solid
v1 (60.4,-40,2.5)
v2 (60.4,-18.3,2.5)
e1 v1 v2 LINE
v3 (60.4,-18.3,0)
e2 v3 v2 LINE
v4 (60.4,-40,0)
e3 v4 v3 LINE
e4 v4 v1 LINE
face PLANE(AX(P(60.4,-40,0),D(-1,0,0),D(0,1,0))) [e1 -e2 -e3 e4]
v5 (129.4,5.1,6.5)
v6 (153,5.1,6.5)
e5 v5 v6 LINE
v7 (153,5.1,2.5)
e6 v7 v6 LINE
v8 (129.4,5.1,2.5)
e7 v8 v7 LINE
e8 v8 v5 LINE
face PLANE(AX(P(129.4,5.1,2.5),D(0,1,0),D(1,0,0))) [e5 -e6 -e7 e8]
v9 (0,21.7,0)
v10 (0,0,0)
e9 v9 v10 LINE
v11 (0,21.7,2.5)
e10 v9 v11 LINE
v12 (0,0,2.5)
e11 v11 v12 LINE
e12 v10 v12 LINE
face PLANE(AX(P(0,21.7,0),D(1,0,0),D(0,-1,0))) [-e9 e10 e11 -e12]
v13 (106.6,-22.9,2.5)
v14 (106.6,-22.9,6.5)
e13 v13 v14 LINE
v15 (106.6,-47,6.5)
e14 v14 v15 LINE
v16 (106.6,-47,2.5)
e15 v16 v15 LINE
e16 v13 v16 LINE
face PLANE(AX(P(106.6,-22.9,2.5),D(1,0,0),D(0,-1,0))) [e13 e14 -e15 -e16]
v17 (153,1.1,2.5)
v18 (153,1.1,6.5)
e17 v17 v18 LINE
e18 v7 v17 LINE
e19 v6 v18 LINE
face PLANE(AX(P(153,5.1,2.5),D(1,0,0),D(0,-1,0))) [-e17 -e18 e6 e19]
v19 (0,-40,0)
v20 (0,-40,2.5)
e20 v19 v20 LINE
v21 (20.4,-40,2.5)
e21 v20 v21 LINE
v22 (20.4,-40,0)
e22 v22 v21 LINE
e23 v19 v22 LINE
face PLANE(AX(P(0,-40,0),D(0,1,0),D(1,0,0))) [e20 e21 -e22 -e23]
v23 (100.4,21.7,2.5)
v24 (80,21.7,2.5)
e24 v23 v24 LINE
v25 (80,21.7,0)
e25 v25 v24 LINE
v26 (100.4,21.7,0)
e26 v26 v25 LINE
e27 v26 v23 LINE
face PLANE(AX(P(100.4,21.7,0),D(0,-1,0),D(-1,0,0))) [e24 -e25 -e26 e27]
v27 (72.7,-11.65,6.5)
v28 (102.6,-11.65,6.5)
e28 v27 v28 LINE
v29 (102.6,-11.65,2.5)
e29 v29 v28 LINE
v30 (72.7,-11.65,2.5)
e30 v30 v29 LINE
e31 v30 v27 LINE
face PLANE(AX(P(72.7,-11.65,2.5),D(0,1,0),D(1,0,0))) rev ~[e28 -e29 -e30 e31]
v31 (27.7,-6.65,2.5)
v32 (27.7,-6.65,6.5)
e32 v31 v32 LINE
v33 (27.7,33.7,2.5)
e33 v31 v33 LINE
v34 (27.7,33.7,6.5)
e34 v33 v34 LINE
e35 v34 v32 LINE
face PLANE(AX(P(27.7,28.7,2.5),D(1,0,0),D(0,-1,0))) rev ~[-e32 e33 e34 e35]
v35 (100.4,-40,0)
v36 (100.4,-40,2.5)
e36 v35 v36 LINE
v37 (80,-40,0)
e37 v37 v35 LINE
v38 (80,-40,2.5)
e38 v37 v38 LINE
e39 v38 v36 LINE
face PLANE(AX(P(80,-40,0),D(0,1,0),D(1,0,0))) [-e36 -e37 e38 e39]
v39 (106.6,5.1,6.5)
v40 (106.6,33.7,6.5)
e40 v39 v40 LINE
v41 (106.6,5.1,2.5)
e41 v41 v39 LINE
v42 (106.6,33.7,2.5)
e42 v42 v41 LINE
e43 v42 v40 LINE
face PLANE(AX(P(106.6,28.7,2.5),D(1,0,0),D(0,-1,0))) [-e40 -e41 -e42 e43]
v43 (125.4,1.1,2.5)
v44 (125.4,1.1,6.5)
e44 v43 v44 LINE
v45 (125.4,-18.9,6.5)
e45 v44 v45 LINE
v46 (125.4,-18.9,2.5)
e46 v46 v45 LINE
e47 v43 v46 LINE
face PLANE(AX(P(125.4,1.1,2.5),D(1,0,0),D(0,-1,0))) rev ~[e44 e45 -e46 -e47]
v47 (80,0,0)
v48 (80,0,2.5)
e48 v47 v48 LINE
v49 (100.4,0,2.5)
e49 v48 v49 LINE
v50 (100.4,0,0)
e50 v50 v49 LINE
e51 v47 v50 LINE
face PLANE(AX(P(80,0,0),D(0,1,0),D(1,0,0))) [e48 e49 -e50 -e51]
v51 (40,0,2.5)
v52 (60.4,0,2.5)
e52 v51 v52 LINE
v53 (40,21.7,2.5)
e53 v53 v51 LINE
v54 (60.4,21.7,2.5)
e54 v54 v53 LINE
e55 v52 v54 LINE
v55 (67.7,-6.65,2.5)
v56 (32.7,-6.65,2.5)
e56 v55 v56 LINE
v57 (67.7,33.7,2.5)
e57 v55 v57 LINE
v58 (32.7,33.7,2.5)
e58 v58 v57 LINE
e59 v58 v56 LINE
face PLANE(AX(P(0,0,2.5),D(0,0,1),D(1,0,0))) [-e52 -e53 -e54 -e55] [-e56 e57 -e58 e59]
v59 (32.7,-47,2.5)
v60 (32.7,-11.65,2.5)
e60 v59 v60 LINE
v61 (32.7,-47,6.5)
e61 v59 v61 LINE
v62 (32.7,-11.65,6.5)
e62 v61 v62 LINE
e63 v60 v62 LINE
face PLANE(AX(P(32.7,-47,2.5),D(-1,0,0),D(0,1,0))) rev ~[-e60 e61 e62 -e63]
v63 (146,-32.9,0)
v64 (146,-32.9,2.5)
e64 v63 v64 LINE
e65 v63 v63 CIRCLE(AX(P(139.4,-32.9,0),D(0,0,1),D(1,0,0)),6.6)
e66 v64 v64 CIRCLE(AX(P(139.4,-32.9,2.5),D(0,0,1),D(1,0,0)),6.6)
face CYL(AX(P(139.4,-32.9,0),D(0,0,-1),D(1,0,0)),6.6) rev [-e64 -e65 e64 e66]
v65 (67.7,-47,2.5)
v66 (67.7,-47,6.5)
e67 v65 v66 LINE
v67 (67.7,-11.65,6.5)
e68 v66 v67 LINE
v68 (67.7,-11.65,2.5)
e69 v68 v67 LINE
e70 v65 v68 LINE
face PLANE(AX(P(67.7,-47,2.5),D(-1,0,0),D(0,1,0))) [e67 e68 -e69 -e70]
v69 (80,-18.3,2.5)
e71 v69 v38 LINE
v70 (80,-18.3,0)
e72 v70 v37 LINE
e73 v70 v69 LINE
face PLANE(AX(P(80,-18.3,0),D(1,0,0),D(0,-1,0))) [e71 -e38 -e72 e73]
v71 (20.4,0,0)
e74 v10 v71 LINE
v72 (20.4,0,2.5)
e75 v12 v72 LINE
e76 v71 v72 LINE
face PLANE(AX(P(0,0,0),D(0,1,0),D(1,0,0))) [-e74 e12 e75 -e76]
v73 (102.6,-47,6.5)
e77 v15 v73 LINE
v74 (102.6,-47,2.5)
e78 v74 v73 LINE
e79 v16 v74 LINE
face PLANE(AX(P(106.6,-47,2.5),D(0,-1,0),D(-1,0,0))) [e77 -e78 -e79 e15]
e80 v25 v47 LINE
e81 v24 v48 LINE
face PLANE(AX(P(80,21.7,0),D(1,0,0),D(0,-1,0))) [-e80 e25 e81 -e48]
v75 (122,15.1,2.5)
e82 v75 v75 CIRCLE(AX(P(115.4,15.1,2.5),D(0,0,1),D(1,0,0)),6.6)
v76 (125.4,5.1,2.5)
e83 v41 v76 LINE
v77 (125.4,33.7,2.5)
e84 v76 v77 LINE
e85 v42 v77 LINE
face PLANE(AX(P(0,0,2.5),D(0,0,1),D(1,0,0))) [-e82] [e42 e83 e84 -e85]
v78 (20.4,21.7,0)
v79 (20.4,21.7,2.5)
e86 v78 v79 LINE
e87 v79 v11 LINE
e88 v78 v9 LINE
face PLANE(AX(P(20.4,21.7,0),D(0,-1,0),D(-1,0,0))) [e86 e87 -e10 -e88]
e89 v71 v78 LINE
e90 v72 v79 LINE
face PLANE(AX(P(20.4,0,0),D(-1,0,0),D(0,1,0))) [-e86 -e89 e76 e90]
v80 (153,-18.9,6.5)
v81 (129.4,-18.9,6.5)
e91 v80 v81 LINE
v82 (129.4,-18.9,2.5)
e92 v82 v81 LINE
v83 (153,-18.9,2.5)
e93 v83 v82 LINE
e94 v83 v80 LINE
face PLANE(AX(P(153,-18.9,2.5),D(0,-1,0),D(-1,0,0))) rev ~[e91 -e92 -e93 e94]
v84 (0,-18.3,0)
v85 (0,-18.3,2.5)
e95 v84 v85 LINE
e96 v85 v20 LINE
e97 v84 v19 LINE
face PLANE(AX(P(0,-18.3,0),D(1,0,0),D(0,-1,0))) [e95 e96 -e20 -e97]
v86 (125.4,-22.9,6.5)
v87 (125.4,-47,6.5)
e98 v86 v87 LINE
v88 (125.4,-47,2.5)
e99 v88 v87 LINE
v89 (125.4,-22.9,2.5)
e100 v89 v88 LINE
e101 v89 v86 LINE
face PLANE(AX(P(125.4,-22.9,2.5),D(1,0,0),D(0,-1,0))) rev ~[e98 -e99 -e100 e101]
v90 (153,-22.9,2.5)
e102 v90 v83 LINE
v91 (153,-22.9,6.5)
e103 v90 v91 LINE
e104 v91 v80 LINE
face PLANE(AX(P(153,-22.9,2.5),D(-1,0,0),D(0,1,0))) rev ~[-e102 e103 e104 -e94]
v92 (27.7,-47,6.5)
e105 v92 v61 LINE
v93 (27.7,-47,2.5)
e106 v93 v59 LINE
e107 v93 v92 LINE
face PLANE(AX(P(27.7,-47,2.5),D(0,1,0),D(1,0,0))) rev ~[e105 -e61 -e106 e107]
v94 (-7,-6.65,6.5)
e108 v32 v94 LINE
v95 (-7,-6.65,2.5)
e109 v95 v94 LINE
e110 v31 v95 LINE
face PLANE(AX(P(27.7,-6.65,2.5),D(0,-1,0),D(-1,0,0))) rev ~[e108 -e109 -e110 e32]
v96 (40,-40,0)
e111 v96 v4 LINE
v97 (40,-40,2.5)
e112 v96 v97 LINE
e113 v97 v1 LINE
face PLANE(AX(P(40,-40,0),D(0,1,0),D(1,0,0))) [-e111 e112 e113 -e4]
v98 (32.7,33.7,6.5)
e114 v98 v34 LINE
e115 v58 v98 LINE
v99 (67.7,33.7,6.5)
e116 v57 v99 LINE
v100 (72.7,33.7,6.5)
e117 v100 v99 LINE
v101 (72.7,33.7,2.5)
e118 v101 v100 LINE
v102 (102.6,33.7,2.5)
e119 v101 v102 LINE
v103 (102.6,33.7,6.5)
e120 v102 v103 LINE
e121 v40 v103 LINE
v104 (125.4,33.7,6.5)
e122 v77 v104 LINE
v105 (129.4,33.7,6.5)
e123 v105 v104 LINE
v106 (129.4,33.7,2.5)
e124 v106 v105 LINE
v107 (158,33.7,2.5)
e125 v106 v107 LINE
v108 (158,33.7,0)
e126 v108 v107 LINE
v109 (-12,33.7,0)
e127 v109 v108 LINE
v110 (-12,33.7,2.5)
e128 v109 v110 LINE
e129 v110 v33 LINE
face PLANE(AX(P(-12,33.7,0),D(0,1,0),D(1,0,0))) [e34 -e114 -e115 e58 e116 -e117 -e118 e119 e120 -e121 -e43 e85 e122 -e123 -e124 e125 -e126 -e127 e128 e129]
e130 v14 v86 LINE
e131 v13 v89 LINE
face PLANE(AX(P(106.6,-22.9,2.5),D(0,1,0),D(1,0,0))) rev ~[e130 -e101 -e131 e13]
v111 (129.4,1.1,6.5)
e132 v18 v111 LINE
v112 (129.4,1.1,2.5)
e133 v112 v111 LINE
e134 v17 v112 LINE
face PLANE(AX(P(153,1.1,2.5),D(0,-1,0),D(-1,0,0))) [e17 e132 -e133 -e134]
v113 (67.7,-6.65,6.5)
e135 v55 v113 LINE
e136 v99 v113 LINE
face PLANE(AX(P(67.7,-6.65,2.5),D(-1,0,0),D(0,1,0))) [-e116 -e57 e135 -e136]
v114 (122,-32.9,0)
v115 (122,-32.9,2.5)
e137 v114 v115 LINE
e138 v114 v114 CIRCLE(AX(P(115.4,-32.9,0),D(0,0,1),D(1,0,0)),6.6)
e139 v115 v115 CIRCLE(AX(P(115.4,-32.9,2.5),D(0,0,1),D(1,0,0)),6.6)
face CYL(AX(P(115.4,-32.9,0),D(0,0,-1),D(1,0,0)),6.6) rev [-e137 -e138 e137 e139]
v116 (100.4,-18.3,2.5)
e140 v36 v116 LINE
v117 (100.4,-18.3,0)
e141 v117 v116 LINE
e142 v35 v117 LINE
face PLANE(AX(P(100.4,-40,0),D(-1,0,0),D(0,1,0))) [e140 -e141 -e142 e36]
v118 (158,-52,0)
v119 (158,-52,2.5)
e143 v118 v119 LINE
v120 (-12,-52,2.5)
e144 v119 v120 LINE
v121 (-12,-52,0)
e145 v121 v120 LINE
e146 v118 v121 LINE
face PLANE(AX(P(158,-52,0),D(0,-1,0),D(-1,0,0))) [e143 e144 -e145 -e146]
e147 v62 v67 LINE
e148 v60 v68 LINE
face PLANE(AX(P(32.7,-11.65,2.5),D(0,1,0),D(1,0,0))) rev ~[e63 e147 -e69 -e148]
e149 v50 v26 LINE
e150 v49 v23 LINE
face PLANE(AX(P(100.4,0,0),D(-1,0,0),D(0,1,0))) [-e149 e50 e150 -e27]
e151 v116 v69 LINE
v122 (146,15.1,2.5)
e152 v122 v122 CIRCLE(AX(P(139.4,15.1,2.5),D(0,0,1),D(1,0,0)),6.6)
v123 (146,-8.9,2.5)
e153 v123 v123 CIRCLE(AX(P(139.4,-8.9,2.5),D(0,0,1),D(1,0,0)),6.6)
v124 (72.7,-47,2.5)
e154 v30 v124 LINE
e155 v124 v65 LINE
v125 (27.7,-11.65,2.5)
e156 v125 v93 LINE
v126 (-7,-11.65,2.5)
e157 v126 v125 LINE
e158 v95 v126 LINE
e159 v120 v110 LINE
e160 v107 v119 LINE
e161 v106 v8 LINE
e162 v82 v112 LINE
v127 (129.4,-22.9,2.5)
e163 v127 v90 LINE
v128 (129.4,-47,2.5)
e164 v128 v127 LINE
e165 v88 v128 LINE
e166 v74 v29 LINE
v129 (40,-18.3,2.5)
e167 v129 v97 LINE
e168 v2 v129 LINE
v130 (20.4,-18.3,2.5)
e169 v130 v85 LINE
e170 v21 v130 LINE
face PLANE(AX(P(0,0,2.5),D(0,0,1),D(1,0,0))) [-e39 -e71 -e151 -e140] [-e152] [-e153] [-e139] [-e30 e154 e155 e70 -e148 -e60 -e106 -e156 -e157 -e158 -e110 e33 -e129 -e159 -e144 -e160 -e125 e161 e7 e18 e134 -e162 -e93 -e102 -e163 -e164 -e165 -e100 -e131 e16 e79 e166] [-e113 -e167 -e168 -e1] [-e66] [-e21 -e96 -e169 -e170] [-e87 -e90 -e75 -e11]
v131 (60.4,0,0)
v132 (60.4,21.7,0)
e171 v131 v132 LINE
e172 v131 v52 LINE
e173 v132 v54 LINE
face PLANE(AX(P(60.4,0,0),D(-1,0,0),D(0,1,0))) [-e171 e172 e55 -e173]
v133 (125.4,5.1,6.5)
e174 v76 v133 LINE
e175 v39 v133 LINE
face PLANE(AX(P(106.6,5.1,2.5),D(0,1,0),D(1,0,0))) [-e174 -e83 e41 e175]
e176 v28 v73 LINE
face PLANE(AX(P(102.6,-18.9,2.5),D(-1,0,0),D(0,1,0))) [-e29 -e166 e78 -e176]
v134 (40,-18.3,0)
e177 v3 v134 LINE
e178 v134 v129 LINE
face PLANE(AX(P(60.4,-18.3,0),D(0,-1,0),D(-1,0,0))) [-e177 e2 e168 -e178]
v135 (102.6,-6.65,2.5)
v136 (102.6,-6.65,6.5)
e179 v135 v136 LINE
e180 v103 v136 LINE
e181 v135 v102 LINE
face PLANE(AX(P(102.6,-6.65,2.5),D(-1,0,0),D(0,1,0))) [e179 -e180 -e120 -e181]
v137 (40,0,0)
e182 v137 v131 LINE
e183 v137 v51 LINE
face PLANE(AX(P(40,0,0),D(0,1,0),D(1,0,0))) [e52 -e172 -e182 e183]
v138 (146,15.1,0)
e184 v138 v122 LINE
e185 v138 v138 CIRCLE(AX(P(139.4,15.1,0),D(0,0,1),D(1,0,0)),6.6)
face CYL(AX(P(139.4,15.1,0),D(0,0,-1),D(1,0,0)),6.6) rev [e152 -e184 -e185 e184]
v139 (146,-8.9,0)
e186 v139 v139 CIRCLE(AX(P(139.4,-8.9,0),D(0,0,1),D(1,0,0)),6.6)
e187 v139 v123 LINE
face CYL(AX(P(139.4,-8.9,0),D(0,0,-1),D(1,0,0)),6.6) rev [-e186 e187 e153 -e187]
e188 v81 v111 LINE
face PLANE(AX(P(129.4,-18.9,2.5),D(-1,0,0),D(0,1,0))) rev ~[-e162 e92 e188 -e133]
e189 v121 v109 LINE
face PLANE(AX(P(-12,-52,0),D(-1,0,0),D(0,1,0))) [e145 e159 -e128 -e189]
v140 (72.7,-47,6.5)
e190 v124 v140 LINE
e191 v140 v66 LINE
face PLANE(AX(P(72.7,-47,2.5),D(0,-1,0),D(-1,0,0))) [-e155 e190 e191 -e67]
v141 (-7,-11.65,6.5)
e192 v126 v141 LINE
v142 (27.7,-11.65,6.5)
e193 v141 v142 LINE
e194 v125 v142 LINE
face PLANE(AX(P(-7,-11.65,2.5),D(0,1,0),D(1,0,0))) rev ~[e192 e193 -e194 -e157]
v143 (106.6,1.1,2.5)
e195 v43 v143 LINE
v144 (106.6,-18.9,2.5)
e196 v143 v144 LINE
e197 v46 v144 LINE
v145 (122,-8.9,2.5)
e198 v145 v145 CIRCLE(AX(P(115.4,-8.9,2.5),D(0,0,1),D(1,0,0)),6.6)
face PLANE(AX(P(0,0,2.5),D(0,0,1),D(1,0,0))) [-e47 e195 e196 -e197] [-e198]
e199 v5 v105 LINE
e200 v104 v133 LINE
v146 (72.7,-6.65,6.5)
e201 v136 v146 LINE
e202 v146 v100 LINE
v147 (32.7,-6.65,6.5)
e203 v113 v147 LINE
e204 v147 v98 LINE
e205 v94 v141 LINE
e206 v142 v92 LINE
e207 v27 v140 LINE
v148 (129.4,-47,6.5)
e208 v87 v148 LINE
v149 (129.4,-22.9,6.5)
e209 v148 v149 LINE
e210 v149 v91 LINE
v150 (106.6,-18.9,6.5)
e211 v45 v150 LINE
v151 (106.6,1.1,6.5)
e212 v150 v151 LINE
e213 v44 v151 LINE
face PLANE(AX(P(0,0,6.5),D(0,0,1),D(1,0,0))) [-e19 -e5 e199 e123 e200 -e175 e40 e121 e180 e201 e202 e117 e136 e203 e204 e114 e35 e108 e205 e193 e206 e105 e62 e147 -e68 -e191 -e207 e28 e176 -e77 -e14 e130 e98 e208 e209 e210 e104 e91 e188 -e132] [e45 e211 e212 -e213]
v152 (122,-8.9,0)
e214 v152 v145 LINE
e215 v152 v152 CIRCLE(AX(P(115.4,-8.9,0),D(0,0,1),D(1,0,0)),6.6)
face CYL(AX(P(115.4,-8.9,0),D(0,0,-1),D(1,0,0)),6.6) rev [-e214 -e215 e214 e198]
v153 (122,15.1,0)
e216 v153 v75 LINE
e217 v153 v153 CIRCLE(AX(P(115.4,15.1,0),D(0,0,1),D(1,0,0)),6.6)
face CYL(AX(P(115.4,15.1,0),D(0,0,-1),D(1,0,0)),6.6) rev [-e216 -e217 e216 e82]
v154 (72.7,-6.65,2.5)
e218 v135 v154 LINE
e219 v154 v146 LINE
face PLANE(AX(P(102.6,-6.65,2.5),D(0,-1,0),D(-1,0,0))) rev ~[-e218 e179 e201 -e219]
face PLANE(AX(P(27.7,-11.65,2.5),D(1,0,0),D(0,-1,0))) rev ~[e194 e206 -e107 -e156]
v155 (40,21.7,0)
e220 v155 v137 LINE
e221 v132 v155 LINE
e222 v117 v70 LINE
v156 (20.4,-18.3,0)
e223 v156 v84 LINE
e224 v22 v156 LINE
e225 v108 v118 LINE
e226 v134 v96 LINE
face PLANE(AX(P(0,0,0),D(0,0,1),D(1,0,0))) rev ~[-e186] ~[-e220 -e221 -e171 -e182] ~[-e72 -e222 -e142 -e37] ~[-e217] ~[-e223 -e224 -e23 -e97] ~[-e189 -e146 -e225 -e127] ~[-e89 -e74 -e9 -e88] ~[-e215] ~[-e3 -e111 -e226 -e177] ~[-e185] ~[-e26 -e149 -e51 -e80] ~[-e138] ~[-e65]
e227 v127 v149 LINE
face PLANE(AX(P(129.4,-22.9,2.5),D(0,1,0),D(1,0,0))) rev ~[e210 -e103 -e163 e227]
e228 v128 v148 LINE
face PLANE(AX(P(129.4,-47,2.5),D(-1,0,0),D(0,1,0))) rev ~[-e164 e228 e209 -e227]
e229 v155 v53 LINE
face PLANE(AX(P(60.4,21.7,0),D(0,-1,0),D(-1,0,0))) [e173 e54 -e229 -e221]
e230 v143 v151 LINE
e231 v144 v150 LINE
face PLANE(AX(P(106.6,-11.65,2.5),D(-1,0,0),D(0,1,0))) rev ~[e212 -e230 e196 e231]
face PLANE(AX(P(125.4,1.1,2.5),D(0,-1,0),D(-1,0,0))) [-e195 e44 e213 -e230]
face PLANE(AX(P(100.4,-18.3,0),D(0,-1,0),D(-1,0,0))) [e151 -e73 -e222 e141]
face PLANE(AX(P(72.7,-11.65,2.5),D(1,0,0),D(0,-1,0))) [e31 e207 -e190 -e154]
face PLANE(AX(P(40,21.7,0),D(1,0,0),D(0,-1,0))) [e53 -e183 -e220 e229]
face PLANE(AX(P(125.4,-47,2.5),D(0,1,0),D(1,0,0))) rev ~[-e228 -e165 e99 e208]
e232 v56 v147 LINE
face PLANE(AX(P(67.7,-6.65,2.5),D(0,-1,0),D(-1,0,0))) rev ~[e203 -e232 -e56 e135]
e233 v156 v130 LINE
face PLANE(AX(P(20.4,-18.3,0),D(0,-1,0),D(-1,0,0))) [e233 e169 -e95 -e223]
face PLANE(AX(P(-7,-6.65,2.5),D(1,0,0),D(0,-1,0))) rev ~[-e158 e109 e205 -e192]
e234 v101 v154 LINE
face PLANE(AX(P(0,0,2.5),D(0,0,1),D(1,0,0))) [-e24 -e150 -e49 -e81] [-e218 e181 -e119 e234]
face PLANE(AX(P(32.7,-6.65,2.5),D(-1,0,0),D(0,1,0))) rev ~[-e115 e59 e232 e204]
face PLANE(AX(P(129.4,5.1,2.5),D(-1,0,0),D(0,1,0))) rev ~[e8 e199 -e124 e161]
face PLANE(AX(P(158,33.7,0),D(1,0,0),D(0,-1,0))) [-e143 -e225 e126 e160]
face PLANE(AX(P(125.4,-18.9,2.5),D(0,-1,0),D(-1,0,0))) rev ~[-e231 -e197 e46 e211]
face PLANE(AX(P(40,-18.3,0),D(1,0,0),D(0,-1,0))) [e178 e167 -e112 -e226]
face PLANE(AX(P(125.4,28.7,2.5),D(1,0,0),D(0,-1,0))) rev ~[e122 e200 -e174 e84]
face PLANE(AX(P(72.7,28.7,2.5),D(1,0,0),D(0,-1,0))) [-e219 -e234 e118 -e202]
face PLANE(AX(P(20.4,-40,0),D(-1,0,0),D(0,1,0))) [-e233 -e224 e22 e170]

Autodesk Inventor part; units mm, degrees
ref_plane "YZ Plane" through (0, 0, 0) normal (1, 0, 0) x (0, 1, 0)
ref_plane "XZ Plane" through (0, 0, 0) normal (0, 1, 0) x (-1, 0, 0)
ref_plane "XY Plane" through (0, 0, 0) normal (0, 0, 1) x (1, 0, 0)
sketch "Sketch1" plane through (0, 0, 0) normal (0, 0, 1) x (1, 0, 0)
  point P0 (0, 0)
sketch "Sketch2" plane through (0, 0, 0) normal (0, 0, 1) x (1, 0, 0)
  line L0 (0, 0) -> (20.4, 0)
  line L1 (20.4, 0) -> (20.4, 21.7)
  line L2 (20.4, 21.7) -> (0, 21.7)
  line L3 (0, 21.7) -> (0, 0)
  line L4 (40, 0) -> (60.4, 0)
  line L5 (60.4, 0) -> (60.4, 21.7)
  line L6 (60.4, 21.7) -> (40, 21.7)
  line L7 (40, 21.7) -> (40, 0)
  line L8 (80, 0) -> (100.4, 0)
  line L9 (100.4, 0) -> (100.4, 21.7)
  line L10 (100.4, 21.7) -> (80, 21.7)
  line L11 (80, 21.7) -> (80, 0)
  line L12 (0, -40) -> (20.4, -40)
  line L13 (20.4, -40) -> (20.4, -18.3)
  line L14 (20.4, -18.3) -> (0, -18.3)
  line L15 (0, -18.3) -> (0, -40)
  line L16 (40, -40) -> (60.4, -40)
  line L17 (60.4, -40) -> (60.4, -18.3)
  line L18 (60.4, -18.3) -> (40, -18.3)
  line L19 (40, -18.3) -> (40, -40)
  line L20 (80, -40) -> (100.4, -40)
  line L21 (100.4, -40) -> (100.4, -18.3)
  line L22 (100.4, -18.3) -> (80, -18.3)
  line L23 (80, -18.3) -> (80, -40)
  line L24 (100.4, 21.7) -> (175.4, 21.7) construction
  line L25 (175.4, 21.7) -> (175.4, -53.3) construction
  line L26 (175.4, -53.3) -> (100.4, -53.3) construction
  line L27 (100.4, -53.3) -> (100.4, 21.7) construction
  circle A0 centre (115.4, 15.1) radius 6.6 construction
  line L28 (115.4, 15.1) -> (115.4, -53.3) construction
  circle A1 centre (115.4, -8.9) radius 6.6 construction
  circle A2 centre (115.4, -32.9) radius 6.6 construction
  line L29 (100.4, 15.1) -> (200.3961, 15.1) construction
  circle A3 centre (139.4, 15.1) radius 6.6 construction
  circle A4 centre (139.4, -8.9) radius 6.6 construction
  circle A5 centre (139.4, -32.9) radius 6.6 construction
  circle A6 centre (115.4, 15.1) radius 6.6
  circle A7 centre (139.4, 15.1) radius 6.6 construction
  circle A8 centre (139.4, 15.1) radius 6.6
  circle A9 centre (115.4, -8.9) radius 6.6 construction
  circle A10 centre (115.4, -8.9) radius 6.6
  circle A11 centre (139.4, -8.9) radius 6.6 construction
  circle A12 centre (139.4, -8.9) radius 6.6
  circle A13 centre (115.4, -32.9) radius 6.6 construction
  circle A14 centre (115.4, -32.9) radius 6.6
  circle A15 centre (139.4, -32.9) radius 6.6 construction
  circle A16 centre (139.4, -32.9) radius 6.6
  line L30 (0, 21.7) -> (-12, 21.7) construction
  line L31 (-12, 21.7) -> (-12, 33.7) construction
  line L32 (-12, 33.7) -> (0, 33.7) construction
  line L33 (0, 33.7) -> (0, 21.7) construction
  line L34 (146, -40) -> (158, -40) construction
  line L35 (158, -40) -> (158, -52) construction
  line L36 (158, -52) -> (146, -52) construction
  line L37 (146, -52) -> (146, -40) construction
  line L38 (139.4, -32.9) -> (139.4, -74.4589) construction
  line L39 (-12, 33.7) -> (158, 33.7)
  line L40 (158, 33.7) -> (158, -52)
  line L41 (158, -52) -> (-12, -52)
  line L42 (-12, -52) -> (-12, 33.7)
  point P0 (146, -46)
  dimension "d0" = 20.4
  dimension "d1" = 21.7
  dimension "d5" = 40
  dimension "d8" = 40
  dimension "d11" = 75
  dimension "d12" = 75
  dimension "d13" = 13.2
  dimension "d14" = 15
  dimension "d15" = 13.2
  dimension "d16" = 24
  dimension "d17" = 13.2
  dimension "d18" = 24
  dimension "d19" = 61.7
  dimension "d20" = 13.2
  dimension "d21" = 24
  dimension "d22" = 13.2
  dimension "d23" = 13.2
  dimension "d26" = 24
  dimension "d29" = 24
  dimension "d32" = 12
  dimension "d33" = 12
  dimension "d34" = 12
  dimension "d35" = 12
  dimension "d36" = 6.6
extrude "Extrusion1" add sketch "Sketch2" along normal blind 2.5
sketch "Sketch3" plane through (0, 0, 2.5) normal (0, 0, 1) x (1, 0, 0)
  line L0 (-12, -52) -> (158, -52) construction
  line L1 (158, -52) -> (158, 33.7) construction
  line L2 (158, 33.7) -> (-12, 33.7) construction
  line L3 (-12, 33.7) -> (-12, -52) construction
  circle A0 centre (115.4, 15.1) radius 6.6 construction
  circle A1 centre (139.4, 15.1) radius 6.6 construction
  circle A2 centre (115.4, -8.9) radius 6.6 construction
  circle A3 centre (139.4, -8.9) radius 6.6 construction
  circle A4 centre (115.4, -32.9) radius 6.6 construction
  circle A5 centre (139.4, -32.9) radius 6.6 construction
  line L4 (80, -40) -> (80, -18.3) construction
  line L5 (80, -18.3) -> (100.4, -18.3) construction
  line L6 (100.4, -18.3) -> (100.4, -40) construction
  line L7 (100.4, -40) -> (80, -40) construction
  line L8 (40, -40) -> (40, -18.3) construction
  line L9 (40, -18.3) -> (60.4, -18.3) construction
  line L10 (60.4, -18.3) -> (60.4, -40) construction
  line L11 (60.4, -40) -> (40, -40) construction
  line L12 (0, -40) -> (0, -18.3) construction
  line L13 (0, -18.3) -> (20.4, -18.3) construction
  line L14 (20.4, -18.3) -> (20.4, -40) construction
  line L15 (20.4, -40) -> (0, -40) construction
  line L16 (80, 0) -> (80, 21.7) construction
  line L17 (80, 21.7) -> (100.4, 21.7) construction
  line L18 (100.4, 21.7) -> (100.4, 0) construction
  line L19 (100.4, 0) -> (80, 0) construction
  line L20 (40, 0) -> (40, 21.7) construction
  line L21 (40, 21.7) -> (60.4, 21.7) construction
  line L22 (60.4, 21.7) -> (60.4, 0) construction
  line L23 (60.4, 0) -> (40, 0) construction
  line L24 (0, 0) -> (0, 21.7) construction
  line L25 (0, 21.7) -> (20.4, 21.7) construction
  line L26 (20.4, 21.7) -> (20.4, 0) construction
  line L27 (20.4, 0) -> (0, 0) construction
  line L28 (-7, 28.7) -> (153, 28.7) construction
  line L29 (153, 28.7) -> (153, -47) construction
  line L30 (153, -47) -> (-7, -47) construction
  line L31 (-7, -47) -> (-7, 28.7) construction
  line L32 (-7, -9.15) -> (-7, -6.65) construction
  line L33 (-7, -6.65) -> (-7, -11.65) construction
  line L34 (20.4, 21.7) -> (40, 21.7) construction
  line L35 (30.2, 21.7) -> (30.2, 28.7) construction
  line L36 (60.4, 21.7) -> (80, 21.7) construction
  line L37 (70.2, 21.7) -> (70.2, 28.7) construction
  line L38 (30.2, 28.7) -> (32.7, 28.7) construction
  line L39 (70.2, 28.7) -> (72.7, 28.7) construction
  line L40 (32.7, 28.7) -> (27.7, 28.7) construction
  line L41 (27.7, 28.7) -> (27.7, -47) construction
  line L42 (27.7, -47) -> (32.7, -47) construction
  line L43 (32.7, -47) -> (32.7, 28.7) construction
  line L44 (72.7, 28.7) -> (67.7, 28.7) construction
  line L45 (67.7, 28.7) -> (67.7, -47) construction
  line L46 (67.7, -47) -> (72.7, -47) construction
  line L47 (72.7, -47) -> (72.7, 28.7) construction
  circle A6 centre (115.4, 15.1) radius 6.6 construction
  line L48 (108.8, 15.1) -> (100.4, 15.1) construction
  line L49 (104.6, 15.1) -> (104.6, 28.7) construction
  line L50 (104.6, 28.7) -> (106.6, 28.7) construction
  line L51 (106.6, 28.7) -> (102.6, 28.7) construction
  line L52 (102.6, 28.7) -> (102.6, -47) construction
  line L53 (102.6, -47) -> (106.6, -47) construction
  line L54 (106.6, -47) -> (106.6, 28.7) construction
  line L55 (-7, -6.65) -> (-7, -11.65) construction
  line L56 (-7, -11.65) -> (106.6, -11.65) construction
  line L57 (106.6, -11.65) -> (106.6, -6.65) construction
  line L58 (106.6, -6.65) -> (-7, -6.65) construction
  line L59 (115.4, -2.3) -> (115.4, 8.5) construction
  line L60 (122, 15.1) -> (132.8, 15.1) construction
  line L61 (115.4, -26.3) -> (115.4, -15.5) construction
  line L62 (106.6, 3.1) -> (106.6, 1.1) construction
  line L63 (106.6, 1.1) -> (106.6, 5.1) construction
  line L64 (106.6, 5.1) -> (153, 5.1) construction
  line L65 (153, 5.1) -> (153, 1.1) construction
  line L66 (153, 1.1) -> (106.6, 1.1) construction
  line L67 (106.6, -20.9) -> (106.6, -22.9) construction
  line L68 (106.6, -22.9) -> (106.6, -18.9) construction
  line L69 (106.6, -18.9) -> (153, -18.9) construction
  line L70 (153, -18.9) -> (153, -22.9) construction
  line L71 (153, -22.9) -> (106.6, -22.9) construction
  line L72 (127.4, 28.7) -> (129.4, 28.7) construction
  line L73 (129.4, 28.7) -> (125.4, 28.7) construction
  line L74 (125.4, 28.7) -> (125.4, -47) construction
  line L75 (125.4, -47) -> (129.4, -47) construction
  line L76 (129.4, -47) -> (129.4, 28.7) construction
  line L77 (-7, -11.65) -> (106.6, -11.65)
  line L78 (106.6, -11.65) -> (106.6, -6.65)
  line L79 (106.6, -6.65) -> (-7, -6.65)
  line L80 (-7, -6.65) -> (-7, -11.65)
  line L81 (102.6, 28.7) -> (106.6, 28.7)
  line L82 (106.6, 28.7) -> (106.6, -47)
  line L83 (106.6, -47) -> (102.6, -47)
  line L84 (102.6, -47) -> (102.6, 28.7)
  line L85 (125.4, -47) -> (129.4, -47)
  line L86 (129.4, -47) -> (129.4, 28.7)
  line L87 (129.4, 28.7) -> (125.4, 28.7)
  line L88 (125.4, 28.7) -> (125.4, -47)
  line L89 (102.6, 5.1) -> (153, 5.1)
  line L90 (153, 5.1) -> (153, 1.1)
  line L91 (153, 1.1) -> (102.6, 1.1)
  line L92 (102.6, 1.1) -> (102.6, 5.1)
  line L93 (153, -18.9) -> (102.6, -18.9)
  line L94 (102.6, -18.9) -> (102.6, -22.9)
  line L95 (102.6, -22.9) -> (153, -22.9)
  line L96 (153, -22.9) -> (153, -18.9)
  line L97 (67.7, 28.7) -> (72.7, 28.7)
  line L98 (72.7, 28.7) -> (72.7, -47)
  line L99 (72.7, -47) -> (67.7, -47)
  line L100 (67.7, -47) -> (67.7, 28.7)
  line L101 (32.7, 28.7) -> (27.7, 28.7)
  line L102 (27.7, 28.7) -> (27.7, -47)
  line L103 (27.7, -47) -> (32.7, -47)
  line L104 (32.7, -47) -> (32.7, 28.7)
  line L105 (27.7, 28.7) -> (32.7, 28.7)
  line L106 (32.7, 28.7) -> (32.7, 33.7)
  line L107 (32.7, 33.7) -> (27.7, 33.7)
  line L108 (27.7, 33.7) -> (27.7, 28.7)
  line L109 (158, 33.7) -> (-12, 33.7) projected
  line L110 (67.7, 28.7) -> (72.7, 28.7)
  line L111 (72.7, 28.7) -> (72.7, 33.7)
  line L112 (72.7, 33.7) -> (67.7, 33.7)
  line L113 (67.7, 33.7) -> (67.7, 28.7)
  line L114 (102.6, 28.7) -> (106.6, 28.7)
  line L115 (106.6, 28.7) -> (106.6, 33.7)
  line L116 (106.6, 33.7) -> (102.6, 33.7)
  line L117 (102.6, 33.7) -> (102.6, 28.7)
  line L118 (125.4, 28.7) -> (129.4, 28.7)
  line L119 (129.4, 28.7) -> (129.4, 33.7)
  line L120 (129.4, 33.7) -> (125.4, 33.7)
  line L121 (125.4, 33.7) -> (125.4, 28.7)
  point P0 (102.6, -6.65)
  point P1 (72.7, -6.65)
  point P2 (67.7, -6.65)
  point P3 (32.7, -6.65)
  point P4 (27.7, -6.65)
  point P5 (27.7, -11.65)
  point P6 (32.7, -11.65)
  point P7 (67.7, -11.65)
  point P8 (72.7, -11.65)
  point P9 (102.6, -11.65)
  point P10 (125.4, -22.9)
  point P11 (129.4, -22.9)
  point P12 (129.4, -18.9)
  point P13 (129.4, 1.1)
  point P14 (129.4, 5.1)
  point P15 (125.4, 5.1)
  point P16 (106.6, 5.1)
  point P17 (125.4, 1.1)
  point P18 (125.4, -18.9)
  dimension "d39" = 5
  dimension "d40" = 2.5
  dimension "d42" = 2.5
  dimension "d43" = 2.5
  dimension "d44" = 5
  dimension "d45" = 5
  dimension "d46" = 2
  dimension "d47" = 4
  dimension "d48" = 5
  dimension "d49" = 2
  dimension "d50" = 4
  dimension "d51" = 2
  dimension "d52" = 4
  dimension "d53" = 2
  dimension "d54" = 4
extrude "Extrusion2" add sketch "Sketch3" along normal blind 4 contours L80 L79 L102 L77 | L102 L79 L104 L77 | L77 L104 L103 L102 | L104 L79 L100 L77 | L102 L101 L104 L79 | L100 L79 L98 L77 | L77 L98 L99 L100 | L108 L107 L106 L101 | L98 L79 L84 L77 | L100 L97 L98 L79 | L84 L79 L78 L77 | L77 L82 L93 L84 | L113 L109 L111 L97 | L93 L82 L95 L84 | L84 L91 L82 L79 | L93 L88 L95 L82 | L95 L82 L83 L84 | L84 L89 L82 L91 | L82 L89 L88 L91 | L93 L86 L95 L88 | L88 L91 L86 L93 | L84 L81 L82 L89 | L109 L115 L81 L117 | L88 L89 L86 L91 | L95 L86 L85 L88 | L93 L96 L95 L86 | L88 L87 L86 L89 | L86 L89 L90 L91 | L109 L119 L87 L121
properties part number "faceplate"
